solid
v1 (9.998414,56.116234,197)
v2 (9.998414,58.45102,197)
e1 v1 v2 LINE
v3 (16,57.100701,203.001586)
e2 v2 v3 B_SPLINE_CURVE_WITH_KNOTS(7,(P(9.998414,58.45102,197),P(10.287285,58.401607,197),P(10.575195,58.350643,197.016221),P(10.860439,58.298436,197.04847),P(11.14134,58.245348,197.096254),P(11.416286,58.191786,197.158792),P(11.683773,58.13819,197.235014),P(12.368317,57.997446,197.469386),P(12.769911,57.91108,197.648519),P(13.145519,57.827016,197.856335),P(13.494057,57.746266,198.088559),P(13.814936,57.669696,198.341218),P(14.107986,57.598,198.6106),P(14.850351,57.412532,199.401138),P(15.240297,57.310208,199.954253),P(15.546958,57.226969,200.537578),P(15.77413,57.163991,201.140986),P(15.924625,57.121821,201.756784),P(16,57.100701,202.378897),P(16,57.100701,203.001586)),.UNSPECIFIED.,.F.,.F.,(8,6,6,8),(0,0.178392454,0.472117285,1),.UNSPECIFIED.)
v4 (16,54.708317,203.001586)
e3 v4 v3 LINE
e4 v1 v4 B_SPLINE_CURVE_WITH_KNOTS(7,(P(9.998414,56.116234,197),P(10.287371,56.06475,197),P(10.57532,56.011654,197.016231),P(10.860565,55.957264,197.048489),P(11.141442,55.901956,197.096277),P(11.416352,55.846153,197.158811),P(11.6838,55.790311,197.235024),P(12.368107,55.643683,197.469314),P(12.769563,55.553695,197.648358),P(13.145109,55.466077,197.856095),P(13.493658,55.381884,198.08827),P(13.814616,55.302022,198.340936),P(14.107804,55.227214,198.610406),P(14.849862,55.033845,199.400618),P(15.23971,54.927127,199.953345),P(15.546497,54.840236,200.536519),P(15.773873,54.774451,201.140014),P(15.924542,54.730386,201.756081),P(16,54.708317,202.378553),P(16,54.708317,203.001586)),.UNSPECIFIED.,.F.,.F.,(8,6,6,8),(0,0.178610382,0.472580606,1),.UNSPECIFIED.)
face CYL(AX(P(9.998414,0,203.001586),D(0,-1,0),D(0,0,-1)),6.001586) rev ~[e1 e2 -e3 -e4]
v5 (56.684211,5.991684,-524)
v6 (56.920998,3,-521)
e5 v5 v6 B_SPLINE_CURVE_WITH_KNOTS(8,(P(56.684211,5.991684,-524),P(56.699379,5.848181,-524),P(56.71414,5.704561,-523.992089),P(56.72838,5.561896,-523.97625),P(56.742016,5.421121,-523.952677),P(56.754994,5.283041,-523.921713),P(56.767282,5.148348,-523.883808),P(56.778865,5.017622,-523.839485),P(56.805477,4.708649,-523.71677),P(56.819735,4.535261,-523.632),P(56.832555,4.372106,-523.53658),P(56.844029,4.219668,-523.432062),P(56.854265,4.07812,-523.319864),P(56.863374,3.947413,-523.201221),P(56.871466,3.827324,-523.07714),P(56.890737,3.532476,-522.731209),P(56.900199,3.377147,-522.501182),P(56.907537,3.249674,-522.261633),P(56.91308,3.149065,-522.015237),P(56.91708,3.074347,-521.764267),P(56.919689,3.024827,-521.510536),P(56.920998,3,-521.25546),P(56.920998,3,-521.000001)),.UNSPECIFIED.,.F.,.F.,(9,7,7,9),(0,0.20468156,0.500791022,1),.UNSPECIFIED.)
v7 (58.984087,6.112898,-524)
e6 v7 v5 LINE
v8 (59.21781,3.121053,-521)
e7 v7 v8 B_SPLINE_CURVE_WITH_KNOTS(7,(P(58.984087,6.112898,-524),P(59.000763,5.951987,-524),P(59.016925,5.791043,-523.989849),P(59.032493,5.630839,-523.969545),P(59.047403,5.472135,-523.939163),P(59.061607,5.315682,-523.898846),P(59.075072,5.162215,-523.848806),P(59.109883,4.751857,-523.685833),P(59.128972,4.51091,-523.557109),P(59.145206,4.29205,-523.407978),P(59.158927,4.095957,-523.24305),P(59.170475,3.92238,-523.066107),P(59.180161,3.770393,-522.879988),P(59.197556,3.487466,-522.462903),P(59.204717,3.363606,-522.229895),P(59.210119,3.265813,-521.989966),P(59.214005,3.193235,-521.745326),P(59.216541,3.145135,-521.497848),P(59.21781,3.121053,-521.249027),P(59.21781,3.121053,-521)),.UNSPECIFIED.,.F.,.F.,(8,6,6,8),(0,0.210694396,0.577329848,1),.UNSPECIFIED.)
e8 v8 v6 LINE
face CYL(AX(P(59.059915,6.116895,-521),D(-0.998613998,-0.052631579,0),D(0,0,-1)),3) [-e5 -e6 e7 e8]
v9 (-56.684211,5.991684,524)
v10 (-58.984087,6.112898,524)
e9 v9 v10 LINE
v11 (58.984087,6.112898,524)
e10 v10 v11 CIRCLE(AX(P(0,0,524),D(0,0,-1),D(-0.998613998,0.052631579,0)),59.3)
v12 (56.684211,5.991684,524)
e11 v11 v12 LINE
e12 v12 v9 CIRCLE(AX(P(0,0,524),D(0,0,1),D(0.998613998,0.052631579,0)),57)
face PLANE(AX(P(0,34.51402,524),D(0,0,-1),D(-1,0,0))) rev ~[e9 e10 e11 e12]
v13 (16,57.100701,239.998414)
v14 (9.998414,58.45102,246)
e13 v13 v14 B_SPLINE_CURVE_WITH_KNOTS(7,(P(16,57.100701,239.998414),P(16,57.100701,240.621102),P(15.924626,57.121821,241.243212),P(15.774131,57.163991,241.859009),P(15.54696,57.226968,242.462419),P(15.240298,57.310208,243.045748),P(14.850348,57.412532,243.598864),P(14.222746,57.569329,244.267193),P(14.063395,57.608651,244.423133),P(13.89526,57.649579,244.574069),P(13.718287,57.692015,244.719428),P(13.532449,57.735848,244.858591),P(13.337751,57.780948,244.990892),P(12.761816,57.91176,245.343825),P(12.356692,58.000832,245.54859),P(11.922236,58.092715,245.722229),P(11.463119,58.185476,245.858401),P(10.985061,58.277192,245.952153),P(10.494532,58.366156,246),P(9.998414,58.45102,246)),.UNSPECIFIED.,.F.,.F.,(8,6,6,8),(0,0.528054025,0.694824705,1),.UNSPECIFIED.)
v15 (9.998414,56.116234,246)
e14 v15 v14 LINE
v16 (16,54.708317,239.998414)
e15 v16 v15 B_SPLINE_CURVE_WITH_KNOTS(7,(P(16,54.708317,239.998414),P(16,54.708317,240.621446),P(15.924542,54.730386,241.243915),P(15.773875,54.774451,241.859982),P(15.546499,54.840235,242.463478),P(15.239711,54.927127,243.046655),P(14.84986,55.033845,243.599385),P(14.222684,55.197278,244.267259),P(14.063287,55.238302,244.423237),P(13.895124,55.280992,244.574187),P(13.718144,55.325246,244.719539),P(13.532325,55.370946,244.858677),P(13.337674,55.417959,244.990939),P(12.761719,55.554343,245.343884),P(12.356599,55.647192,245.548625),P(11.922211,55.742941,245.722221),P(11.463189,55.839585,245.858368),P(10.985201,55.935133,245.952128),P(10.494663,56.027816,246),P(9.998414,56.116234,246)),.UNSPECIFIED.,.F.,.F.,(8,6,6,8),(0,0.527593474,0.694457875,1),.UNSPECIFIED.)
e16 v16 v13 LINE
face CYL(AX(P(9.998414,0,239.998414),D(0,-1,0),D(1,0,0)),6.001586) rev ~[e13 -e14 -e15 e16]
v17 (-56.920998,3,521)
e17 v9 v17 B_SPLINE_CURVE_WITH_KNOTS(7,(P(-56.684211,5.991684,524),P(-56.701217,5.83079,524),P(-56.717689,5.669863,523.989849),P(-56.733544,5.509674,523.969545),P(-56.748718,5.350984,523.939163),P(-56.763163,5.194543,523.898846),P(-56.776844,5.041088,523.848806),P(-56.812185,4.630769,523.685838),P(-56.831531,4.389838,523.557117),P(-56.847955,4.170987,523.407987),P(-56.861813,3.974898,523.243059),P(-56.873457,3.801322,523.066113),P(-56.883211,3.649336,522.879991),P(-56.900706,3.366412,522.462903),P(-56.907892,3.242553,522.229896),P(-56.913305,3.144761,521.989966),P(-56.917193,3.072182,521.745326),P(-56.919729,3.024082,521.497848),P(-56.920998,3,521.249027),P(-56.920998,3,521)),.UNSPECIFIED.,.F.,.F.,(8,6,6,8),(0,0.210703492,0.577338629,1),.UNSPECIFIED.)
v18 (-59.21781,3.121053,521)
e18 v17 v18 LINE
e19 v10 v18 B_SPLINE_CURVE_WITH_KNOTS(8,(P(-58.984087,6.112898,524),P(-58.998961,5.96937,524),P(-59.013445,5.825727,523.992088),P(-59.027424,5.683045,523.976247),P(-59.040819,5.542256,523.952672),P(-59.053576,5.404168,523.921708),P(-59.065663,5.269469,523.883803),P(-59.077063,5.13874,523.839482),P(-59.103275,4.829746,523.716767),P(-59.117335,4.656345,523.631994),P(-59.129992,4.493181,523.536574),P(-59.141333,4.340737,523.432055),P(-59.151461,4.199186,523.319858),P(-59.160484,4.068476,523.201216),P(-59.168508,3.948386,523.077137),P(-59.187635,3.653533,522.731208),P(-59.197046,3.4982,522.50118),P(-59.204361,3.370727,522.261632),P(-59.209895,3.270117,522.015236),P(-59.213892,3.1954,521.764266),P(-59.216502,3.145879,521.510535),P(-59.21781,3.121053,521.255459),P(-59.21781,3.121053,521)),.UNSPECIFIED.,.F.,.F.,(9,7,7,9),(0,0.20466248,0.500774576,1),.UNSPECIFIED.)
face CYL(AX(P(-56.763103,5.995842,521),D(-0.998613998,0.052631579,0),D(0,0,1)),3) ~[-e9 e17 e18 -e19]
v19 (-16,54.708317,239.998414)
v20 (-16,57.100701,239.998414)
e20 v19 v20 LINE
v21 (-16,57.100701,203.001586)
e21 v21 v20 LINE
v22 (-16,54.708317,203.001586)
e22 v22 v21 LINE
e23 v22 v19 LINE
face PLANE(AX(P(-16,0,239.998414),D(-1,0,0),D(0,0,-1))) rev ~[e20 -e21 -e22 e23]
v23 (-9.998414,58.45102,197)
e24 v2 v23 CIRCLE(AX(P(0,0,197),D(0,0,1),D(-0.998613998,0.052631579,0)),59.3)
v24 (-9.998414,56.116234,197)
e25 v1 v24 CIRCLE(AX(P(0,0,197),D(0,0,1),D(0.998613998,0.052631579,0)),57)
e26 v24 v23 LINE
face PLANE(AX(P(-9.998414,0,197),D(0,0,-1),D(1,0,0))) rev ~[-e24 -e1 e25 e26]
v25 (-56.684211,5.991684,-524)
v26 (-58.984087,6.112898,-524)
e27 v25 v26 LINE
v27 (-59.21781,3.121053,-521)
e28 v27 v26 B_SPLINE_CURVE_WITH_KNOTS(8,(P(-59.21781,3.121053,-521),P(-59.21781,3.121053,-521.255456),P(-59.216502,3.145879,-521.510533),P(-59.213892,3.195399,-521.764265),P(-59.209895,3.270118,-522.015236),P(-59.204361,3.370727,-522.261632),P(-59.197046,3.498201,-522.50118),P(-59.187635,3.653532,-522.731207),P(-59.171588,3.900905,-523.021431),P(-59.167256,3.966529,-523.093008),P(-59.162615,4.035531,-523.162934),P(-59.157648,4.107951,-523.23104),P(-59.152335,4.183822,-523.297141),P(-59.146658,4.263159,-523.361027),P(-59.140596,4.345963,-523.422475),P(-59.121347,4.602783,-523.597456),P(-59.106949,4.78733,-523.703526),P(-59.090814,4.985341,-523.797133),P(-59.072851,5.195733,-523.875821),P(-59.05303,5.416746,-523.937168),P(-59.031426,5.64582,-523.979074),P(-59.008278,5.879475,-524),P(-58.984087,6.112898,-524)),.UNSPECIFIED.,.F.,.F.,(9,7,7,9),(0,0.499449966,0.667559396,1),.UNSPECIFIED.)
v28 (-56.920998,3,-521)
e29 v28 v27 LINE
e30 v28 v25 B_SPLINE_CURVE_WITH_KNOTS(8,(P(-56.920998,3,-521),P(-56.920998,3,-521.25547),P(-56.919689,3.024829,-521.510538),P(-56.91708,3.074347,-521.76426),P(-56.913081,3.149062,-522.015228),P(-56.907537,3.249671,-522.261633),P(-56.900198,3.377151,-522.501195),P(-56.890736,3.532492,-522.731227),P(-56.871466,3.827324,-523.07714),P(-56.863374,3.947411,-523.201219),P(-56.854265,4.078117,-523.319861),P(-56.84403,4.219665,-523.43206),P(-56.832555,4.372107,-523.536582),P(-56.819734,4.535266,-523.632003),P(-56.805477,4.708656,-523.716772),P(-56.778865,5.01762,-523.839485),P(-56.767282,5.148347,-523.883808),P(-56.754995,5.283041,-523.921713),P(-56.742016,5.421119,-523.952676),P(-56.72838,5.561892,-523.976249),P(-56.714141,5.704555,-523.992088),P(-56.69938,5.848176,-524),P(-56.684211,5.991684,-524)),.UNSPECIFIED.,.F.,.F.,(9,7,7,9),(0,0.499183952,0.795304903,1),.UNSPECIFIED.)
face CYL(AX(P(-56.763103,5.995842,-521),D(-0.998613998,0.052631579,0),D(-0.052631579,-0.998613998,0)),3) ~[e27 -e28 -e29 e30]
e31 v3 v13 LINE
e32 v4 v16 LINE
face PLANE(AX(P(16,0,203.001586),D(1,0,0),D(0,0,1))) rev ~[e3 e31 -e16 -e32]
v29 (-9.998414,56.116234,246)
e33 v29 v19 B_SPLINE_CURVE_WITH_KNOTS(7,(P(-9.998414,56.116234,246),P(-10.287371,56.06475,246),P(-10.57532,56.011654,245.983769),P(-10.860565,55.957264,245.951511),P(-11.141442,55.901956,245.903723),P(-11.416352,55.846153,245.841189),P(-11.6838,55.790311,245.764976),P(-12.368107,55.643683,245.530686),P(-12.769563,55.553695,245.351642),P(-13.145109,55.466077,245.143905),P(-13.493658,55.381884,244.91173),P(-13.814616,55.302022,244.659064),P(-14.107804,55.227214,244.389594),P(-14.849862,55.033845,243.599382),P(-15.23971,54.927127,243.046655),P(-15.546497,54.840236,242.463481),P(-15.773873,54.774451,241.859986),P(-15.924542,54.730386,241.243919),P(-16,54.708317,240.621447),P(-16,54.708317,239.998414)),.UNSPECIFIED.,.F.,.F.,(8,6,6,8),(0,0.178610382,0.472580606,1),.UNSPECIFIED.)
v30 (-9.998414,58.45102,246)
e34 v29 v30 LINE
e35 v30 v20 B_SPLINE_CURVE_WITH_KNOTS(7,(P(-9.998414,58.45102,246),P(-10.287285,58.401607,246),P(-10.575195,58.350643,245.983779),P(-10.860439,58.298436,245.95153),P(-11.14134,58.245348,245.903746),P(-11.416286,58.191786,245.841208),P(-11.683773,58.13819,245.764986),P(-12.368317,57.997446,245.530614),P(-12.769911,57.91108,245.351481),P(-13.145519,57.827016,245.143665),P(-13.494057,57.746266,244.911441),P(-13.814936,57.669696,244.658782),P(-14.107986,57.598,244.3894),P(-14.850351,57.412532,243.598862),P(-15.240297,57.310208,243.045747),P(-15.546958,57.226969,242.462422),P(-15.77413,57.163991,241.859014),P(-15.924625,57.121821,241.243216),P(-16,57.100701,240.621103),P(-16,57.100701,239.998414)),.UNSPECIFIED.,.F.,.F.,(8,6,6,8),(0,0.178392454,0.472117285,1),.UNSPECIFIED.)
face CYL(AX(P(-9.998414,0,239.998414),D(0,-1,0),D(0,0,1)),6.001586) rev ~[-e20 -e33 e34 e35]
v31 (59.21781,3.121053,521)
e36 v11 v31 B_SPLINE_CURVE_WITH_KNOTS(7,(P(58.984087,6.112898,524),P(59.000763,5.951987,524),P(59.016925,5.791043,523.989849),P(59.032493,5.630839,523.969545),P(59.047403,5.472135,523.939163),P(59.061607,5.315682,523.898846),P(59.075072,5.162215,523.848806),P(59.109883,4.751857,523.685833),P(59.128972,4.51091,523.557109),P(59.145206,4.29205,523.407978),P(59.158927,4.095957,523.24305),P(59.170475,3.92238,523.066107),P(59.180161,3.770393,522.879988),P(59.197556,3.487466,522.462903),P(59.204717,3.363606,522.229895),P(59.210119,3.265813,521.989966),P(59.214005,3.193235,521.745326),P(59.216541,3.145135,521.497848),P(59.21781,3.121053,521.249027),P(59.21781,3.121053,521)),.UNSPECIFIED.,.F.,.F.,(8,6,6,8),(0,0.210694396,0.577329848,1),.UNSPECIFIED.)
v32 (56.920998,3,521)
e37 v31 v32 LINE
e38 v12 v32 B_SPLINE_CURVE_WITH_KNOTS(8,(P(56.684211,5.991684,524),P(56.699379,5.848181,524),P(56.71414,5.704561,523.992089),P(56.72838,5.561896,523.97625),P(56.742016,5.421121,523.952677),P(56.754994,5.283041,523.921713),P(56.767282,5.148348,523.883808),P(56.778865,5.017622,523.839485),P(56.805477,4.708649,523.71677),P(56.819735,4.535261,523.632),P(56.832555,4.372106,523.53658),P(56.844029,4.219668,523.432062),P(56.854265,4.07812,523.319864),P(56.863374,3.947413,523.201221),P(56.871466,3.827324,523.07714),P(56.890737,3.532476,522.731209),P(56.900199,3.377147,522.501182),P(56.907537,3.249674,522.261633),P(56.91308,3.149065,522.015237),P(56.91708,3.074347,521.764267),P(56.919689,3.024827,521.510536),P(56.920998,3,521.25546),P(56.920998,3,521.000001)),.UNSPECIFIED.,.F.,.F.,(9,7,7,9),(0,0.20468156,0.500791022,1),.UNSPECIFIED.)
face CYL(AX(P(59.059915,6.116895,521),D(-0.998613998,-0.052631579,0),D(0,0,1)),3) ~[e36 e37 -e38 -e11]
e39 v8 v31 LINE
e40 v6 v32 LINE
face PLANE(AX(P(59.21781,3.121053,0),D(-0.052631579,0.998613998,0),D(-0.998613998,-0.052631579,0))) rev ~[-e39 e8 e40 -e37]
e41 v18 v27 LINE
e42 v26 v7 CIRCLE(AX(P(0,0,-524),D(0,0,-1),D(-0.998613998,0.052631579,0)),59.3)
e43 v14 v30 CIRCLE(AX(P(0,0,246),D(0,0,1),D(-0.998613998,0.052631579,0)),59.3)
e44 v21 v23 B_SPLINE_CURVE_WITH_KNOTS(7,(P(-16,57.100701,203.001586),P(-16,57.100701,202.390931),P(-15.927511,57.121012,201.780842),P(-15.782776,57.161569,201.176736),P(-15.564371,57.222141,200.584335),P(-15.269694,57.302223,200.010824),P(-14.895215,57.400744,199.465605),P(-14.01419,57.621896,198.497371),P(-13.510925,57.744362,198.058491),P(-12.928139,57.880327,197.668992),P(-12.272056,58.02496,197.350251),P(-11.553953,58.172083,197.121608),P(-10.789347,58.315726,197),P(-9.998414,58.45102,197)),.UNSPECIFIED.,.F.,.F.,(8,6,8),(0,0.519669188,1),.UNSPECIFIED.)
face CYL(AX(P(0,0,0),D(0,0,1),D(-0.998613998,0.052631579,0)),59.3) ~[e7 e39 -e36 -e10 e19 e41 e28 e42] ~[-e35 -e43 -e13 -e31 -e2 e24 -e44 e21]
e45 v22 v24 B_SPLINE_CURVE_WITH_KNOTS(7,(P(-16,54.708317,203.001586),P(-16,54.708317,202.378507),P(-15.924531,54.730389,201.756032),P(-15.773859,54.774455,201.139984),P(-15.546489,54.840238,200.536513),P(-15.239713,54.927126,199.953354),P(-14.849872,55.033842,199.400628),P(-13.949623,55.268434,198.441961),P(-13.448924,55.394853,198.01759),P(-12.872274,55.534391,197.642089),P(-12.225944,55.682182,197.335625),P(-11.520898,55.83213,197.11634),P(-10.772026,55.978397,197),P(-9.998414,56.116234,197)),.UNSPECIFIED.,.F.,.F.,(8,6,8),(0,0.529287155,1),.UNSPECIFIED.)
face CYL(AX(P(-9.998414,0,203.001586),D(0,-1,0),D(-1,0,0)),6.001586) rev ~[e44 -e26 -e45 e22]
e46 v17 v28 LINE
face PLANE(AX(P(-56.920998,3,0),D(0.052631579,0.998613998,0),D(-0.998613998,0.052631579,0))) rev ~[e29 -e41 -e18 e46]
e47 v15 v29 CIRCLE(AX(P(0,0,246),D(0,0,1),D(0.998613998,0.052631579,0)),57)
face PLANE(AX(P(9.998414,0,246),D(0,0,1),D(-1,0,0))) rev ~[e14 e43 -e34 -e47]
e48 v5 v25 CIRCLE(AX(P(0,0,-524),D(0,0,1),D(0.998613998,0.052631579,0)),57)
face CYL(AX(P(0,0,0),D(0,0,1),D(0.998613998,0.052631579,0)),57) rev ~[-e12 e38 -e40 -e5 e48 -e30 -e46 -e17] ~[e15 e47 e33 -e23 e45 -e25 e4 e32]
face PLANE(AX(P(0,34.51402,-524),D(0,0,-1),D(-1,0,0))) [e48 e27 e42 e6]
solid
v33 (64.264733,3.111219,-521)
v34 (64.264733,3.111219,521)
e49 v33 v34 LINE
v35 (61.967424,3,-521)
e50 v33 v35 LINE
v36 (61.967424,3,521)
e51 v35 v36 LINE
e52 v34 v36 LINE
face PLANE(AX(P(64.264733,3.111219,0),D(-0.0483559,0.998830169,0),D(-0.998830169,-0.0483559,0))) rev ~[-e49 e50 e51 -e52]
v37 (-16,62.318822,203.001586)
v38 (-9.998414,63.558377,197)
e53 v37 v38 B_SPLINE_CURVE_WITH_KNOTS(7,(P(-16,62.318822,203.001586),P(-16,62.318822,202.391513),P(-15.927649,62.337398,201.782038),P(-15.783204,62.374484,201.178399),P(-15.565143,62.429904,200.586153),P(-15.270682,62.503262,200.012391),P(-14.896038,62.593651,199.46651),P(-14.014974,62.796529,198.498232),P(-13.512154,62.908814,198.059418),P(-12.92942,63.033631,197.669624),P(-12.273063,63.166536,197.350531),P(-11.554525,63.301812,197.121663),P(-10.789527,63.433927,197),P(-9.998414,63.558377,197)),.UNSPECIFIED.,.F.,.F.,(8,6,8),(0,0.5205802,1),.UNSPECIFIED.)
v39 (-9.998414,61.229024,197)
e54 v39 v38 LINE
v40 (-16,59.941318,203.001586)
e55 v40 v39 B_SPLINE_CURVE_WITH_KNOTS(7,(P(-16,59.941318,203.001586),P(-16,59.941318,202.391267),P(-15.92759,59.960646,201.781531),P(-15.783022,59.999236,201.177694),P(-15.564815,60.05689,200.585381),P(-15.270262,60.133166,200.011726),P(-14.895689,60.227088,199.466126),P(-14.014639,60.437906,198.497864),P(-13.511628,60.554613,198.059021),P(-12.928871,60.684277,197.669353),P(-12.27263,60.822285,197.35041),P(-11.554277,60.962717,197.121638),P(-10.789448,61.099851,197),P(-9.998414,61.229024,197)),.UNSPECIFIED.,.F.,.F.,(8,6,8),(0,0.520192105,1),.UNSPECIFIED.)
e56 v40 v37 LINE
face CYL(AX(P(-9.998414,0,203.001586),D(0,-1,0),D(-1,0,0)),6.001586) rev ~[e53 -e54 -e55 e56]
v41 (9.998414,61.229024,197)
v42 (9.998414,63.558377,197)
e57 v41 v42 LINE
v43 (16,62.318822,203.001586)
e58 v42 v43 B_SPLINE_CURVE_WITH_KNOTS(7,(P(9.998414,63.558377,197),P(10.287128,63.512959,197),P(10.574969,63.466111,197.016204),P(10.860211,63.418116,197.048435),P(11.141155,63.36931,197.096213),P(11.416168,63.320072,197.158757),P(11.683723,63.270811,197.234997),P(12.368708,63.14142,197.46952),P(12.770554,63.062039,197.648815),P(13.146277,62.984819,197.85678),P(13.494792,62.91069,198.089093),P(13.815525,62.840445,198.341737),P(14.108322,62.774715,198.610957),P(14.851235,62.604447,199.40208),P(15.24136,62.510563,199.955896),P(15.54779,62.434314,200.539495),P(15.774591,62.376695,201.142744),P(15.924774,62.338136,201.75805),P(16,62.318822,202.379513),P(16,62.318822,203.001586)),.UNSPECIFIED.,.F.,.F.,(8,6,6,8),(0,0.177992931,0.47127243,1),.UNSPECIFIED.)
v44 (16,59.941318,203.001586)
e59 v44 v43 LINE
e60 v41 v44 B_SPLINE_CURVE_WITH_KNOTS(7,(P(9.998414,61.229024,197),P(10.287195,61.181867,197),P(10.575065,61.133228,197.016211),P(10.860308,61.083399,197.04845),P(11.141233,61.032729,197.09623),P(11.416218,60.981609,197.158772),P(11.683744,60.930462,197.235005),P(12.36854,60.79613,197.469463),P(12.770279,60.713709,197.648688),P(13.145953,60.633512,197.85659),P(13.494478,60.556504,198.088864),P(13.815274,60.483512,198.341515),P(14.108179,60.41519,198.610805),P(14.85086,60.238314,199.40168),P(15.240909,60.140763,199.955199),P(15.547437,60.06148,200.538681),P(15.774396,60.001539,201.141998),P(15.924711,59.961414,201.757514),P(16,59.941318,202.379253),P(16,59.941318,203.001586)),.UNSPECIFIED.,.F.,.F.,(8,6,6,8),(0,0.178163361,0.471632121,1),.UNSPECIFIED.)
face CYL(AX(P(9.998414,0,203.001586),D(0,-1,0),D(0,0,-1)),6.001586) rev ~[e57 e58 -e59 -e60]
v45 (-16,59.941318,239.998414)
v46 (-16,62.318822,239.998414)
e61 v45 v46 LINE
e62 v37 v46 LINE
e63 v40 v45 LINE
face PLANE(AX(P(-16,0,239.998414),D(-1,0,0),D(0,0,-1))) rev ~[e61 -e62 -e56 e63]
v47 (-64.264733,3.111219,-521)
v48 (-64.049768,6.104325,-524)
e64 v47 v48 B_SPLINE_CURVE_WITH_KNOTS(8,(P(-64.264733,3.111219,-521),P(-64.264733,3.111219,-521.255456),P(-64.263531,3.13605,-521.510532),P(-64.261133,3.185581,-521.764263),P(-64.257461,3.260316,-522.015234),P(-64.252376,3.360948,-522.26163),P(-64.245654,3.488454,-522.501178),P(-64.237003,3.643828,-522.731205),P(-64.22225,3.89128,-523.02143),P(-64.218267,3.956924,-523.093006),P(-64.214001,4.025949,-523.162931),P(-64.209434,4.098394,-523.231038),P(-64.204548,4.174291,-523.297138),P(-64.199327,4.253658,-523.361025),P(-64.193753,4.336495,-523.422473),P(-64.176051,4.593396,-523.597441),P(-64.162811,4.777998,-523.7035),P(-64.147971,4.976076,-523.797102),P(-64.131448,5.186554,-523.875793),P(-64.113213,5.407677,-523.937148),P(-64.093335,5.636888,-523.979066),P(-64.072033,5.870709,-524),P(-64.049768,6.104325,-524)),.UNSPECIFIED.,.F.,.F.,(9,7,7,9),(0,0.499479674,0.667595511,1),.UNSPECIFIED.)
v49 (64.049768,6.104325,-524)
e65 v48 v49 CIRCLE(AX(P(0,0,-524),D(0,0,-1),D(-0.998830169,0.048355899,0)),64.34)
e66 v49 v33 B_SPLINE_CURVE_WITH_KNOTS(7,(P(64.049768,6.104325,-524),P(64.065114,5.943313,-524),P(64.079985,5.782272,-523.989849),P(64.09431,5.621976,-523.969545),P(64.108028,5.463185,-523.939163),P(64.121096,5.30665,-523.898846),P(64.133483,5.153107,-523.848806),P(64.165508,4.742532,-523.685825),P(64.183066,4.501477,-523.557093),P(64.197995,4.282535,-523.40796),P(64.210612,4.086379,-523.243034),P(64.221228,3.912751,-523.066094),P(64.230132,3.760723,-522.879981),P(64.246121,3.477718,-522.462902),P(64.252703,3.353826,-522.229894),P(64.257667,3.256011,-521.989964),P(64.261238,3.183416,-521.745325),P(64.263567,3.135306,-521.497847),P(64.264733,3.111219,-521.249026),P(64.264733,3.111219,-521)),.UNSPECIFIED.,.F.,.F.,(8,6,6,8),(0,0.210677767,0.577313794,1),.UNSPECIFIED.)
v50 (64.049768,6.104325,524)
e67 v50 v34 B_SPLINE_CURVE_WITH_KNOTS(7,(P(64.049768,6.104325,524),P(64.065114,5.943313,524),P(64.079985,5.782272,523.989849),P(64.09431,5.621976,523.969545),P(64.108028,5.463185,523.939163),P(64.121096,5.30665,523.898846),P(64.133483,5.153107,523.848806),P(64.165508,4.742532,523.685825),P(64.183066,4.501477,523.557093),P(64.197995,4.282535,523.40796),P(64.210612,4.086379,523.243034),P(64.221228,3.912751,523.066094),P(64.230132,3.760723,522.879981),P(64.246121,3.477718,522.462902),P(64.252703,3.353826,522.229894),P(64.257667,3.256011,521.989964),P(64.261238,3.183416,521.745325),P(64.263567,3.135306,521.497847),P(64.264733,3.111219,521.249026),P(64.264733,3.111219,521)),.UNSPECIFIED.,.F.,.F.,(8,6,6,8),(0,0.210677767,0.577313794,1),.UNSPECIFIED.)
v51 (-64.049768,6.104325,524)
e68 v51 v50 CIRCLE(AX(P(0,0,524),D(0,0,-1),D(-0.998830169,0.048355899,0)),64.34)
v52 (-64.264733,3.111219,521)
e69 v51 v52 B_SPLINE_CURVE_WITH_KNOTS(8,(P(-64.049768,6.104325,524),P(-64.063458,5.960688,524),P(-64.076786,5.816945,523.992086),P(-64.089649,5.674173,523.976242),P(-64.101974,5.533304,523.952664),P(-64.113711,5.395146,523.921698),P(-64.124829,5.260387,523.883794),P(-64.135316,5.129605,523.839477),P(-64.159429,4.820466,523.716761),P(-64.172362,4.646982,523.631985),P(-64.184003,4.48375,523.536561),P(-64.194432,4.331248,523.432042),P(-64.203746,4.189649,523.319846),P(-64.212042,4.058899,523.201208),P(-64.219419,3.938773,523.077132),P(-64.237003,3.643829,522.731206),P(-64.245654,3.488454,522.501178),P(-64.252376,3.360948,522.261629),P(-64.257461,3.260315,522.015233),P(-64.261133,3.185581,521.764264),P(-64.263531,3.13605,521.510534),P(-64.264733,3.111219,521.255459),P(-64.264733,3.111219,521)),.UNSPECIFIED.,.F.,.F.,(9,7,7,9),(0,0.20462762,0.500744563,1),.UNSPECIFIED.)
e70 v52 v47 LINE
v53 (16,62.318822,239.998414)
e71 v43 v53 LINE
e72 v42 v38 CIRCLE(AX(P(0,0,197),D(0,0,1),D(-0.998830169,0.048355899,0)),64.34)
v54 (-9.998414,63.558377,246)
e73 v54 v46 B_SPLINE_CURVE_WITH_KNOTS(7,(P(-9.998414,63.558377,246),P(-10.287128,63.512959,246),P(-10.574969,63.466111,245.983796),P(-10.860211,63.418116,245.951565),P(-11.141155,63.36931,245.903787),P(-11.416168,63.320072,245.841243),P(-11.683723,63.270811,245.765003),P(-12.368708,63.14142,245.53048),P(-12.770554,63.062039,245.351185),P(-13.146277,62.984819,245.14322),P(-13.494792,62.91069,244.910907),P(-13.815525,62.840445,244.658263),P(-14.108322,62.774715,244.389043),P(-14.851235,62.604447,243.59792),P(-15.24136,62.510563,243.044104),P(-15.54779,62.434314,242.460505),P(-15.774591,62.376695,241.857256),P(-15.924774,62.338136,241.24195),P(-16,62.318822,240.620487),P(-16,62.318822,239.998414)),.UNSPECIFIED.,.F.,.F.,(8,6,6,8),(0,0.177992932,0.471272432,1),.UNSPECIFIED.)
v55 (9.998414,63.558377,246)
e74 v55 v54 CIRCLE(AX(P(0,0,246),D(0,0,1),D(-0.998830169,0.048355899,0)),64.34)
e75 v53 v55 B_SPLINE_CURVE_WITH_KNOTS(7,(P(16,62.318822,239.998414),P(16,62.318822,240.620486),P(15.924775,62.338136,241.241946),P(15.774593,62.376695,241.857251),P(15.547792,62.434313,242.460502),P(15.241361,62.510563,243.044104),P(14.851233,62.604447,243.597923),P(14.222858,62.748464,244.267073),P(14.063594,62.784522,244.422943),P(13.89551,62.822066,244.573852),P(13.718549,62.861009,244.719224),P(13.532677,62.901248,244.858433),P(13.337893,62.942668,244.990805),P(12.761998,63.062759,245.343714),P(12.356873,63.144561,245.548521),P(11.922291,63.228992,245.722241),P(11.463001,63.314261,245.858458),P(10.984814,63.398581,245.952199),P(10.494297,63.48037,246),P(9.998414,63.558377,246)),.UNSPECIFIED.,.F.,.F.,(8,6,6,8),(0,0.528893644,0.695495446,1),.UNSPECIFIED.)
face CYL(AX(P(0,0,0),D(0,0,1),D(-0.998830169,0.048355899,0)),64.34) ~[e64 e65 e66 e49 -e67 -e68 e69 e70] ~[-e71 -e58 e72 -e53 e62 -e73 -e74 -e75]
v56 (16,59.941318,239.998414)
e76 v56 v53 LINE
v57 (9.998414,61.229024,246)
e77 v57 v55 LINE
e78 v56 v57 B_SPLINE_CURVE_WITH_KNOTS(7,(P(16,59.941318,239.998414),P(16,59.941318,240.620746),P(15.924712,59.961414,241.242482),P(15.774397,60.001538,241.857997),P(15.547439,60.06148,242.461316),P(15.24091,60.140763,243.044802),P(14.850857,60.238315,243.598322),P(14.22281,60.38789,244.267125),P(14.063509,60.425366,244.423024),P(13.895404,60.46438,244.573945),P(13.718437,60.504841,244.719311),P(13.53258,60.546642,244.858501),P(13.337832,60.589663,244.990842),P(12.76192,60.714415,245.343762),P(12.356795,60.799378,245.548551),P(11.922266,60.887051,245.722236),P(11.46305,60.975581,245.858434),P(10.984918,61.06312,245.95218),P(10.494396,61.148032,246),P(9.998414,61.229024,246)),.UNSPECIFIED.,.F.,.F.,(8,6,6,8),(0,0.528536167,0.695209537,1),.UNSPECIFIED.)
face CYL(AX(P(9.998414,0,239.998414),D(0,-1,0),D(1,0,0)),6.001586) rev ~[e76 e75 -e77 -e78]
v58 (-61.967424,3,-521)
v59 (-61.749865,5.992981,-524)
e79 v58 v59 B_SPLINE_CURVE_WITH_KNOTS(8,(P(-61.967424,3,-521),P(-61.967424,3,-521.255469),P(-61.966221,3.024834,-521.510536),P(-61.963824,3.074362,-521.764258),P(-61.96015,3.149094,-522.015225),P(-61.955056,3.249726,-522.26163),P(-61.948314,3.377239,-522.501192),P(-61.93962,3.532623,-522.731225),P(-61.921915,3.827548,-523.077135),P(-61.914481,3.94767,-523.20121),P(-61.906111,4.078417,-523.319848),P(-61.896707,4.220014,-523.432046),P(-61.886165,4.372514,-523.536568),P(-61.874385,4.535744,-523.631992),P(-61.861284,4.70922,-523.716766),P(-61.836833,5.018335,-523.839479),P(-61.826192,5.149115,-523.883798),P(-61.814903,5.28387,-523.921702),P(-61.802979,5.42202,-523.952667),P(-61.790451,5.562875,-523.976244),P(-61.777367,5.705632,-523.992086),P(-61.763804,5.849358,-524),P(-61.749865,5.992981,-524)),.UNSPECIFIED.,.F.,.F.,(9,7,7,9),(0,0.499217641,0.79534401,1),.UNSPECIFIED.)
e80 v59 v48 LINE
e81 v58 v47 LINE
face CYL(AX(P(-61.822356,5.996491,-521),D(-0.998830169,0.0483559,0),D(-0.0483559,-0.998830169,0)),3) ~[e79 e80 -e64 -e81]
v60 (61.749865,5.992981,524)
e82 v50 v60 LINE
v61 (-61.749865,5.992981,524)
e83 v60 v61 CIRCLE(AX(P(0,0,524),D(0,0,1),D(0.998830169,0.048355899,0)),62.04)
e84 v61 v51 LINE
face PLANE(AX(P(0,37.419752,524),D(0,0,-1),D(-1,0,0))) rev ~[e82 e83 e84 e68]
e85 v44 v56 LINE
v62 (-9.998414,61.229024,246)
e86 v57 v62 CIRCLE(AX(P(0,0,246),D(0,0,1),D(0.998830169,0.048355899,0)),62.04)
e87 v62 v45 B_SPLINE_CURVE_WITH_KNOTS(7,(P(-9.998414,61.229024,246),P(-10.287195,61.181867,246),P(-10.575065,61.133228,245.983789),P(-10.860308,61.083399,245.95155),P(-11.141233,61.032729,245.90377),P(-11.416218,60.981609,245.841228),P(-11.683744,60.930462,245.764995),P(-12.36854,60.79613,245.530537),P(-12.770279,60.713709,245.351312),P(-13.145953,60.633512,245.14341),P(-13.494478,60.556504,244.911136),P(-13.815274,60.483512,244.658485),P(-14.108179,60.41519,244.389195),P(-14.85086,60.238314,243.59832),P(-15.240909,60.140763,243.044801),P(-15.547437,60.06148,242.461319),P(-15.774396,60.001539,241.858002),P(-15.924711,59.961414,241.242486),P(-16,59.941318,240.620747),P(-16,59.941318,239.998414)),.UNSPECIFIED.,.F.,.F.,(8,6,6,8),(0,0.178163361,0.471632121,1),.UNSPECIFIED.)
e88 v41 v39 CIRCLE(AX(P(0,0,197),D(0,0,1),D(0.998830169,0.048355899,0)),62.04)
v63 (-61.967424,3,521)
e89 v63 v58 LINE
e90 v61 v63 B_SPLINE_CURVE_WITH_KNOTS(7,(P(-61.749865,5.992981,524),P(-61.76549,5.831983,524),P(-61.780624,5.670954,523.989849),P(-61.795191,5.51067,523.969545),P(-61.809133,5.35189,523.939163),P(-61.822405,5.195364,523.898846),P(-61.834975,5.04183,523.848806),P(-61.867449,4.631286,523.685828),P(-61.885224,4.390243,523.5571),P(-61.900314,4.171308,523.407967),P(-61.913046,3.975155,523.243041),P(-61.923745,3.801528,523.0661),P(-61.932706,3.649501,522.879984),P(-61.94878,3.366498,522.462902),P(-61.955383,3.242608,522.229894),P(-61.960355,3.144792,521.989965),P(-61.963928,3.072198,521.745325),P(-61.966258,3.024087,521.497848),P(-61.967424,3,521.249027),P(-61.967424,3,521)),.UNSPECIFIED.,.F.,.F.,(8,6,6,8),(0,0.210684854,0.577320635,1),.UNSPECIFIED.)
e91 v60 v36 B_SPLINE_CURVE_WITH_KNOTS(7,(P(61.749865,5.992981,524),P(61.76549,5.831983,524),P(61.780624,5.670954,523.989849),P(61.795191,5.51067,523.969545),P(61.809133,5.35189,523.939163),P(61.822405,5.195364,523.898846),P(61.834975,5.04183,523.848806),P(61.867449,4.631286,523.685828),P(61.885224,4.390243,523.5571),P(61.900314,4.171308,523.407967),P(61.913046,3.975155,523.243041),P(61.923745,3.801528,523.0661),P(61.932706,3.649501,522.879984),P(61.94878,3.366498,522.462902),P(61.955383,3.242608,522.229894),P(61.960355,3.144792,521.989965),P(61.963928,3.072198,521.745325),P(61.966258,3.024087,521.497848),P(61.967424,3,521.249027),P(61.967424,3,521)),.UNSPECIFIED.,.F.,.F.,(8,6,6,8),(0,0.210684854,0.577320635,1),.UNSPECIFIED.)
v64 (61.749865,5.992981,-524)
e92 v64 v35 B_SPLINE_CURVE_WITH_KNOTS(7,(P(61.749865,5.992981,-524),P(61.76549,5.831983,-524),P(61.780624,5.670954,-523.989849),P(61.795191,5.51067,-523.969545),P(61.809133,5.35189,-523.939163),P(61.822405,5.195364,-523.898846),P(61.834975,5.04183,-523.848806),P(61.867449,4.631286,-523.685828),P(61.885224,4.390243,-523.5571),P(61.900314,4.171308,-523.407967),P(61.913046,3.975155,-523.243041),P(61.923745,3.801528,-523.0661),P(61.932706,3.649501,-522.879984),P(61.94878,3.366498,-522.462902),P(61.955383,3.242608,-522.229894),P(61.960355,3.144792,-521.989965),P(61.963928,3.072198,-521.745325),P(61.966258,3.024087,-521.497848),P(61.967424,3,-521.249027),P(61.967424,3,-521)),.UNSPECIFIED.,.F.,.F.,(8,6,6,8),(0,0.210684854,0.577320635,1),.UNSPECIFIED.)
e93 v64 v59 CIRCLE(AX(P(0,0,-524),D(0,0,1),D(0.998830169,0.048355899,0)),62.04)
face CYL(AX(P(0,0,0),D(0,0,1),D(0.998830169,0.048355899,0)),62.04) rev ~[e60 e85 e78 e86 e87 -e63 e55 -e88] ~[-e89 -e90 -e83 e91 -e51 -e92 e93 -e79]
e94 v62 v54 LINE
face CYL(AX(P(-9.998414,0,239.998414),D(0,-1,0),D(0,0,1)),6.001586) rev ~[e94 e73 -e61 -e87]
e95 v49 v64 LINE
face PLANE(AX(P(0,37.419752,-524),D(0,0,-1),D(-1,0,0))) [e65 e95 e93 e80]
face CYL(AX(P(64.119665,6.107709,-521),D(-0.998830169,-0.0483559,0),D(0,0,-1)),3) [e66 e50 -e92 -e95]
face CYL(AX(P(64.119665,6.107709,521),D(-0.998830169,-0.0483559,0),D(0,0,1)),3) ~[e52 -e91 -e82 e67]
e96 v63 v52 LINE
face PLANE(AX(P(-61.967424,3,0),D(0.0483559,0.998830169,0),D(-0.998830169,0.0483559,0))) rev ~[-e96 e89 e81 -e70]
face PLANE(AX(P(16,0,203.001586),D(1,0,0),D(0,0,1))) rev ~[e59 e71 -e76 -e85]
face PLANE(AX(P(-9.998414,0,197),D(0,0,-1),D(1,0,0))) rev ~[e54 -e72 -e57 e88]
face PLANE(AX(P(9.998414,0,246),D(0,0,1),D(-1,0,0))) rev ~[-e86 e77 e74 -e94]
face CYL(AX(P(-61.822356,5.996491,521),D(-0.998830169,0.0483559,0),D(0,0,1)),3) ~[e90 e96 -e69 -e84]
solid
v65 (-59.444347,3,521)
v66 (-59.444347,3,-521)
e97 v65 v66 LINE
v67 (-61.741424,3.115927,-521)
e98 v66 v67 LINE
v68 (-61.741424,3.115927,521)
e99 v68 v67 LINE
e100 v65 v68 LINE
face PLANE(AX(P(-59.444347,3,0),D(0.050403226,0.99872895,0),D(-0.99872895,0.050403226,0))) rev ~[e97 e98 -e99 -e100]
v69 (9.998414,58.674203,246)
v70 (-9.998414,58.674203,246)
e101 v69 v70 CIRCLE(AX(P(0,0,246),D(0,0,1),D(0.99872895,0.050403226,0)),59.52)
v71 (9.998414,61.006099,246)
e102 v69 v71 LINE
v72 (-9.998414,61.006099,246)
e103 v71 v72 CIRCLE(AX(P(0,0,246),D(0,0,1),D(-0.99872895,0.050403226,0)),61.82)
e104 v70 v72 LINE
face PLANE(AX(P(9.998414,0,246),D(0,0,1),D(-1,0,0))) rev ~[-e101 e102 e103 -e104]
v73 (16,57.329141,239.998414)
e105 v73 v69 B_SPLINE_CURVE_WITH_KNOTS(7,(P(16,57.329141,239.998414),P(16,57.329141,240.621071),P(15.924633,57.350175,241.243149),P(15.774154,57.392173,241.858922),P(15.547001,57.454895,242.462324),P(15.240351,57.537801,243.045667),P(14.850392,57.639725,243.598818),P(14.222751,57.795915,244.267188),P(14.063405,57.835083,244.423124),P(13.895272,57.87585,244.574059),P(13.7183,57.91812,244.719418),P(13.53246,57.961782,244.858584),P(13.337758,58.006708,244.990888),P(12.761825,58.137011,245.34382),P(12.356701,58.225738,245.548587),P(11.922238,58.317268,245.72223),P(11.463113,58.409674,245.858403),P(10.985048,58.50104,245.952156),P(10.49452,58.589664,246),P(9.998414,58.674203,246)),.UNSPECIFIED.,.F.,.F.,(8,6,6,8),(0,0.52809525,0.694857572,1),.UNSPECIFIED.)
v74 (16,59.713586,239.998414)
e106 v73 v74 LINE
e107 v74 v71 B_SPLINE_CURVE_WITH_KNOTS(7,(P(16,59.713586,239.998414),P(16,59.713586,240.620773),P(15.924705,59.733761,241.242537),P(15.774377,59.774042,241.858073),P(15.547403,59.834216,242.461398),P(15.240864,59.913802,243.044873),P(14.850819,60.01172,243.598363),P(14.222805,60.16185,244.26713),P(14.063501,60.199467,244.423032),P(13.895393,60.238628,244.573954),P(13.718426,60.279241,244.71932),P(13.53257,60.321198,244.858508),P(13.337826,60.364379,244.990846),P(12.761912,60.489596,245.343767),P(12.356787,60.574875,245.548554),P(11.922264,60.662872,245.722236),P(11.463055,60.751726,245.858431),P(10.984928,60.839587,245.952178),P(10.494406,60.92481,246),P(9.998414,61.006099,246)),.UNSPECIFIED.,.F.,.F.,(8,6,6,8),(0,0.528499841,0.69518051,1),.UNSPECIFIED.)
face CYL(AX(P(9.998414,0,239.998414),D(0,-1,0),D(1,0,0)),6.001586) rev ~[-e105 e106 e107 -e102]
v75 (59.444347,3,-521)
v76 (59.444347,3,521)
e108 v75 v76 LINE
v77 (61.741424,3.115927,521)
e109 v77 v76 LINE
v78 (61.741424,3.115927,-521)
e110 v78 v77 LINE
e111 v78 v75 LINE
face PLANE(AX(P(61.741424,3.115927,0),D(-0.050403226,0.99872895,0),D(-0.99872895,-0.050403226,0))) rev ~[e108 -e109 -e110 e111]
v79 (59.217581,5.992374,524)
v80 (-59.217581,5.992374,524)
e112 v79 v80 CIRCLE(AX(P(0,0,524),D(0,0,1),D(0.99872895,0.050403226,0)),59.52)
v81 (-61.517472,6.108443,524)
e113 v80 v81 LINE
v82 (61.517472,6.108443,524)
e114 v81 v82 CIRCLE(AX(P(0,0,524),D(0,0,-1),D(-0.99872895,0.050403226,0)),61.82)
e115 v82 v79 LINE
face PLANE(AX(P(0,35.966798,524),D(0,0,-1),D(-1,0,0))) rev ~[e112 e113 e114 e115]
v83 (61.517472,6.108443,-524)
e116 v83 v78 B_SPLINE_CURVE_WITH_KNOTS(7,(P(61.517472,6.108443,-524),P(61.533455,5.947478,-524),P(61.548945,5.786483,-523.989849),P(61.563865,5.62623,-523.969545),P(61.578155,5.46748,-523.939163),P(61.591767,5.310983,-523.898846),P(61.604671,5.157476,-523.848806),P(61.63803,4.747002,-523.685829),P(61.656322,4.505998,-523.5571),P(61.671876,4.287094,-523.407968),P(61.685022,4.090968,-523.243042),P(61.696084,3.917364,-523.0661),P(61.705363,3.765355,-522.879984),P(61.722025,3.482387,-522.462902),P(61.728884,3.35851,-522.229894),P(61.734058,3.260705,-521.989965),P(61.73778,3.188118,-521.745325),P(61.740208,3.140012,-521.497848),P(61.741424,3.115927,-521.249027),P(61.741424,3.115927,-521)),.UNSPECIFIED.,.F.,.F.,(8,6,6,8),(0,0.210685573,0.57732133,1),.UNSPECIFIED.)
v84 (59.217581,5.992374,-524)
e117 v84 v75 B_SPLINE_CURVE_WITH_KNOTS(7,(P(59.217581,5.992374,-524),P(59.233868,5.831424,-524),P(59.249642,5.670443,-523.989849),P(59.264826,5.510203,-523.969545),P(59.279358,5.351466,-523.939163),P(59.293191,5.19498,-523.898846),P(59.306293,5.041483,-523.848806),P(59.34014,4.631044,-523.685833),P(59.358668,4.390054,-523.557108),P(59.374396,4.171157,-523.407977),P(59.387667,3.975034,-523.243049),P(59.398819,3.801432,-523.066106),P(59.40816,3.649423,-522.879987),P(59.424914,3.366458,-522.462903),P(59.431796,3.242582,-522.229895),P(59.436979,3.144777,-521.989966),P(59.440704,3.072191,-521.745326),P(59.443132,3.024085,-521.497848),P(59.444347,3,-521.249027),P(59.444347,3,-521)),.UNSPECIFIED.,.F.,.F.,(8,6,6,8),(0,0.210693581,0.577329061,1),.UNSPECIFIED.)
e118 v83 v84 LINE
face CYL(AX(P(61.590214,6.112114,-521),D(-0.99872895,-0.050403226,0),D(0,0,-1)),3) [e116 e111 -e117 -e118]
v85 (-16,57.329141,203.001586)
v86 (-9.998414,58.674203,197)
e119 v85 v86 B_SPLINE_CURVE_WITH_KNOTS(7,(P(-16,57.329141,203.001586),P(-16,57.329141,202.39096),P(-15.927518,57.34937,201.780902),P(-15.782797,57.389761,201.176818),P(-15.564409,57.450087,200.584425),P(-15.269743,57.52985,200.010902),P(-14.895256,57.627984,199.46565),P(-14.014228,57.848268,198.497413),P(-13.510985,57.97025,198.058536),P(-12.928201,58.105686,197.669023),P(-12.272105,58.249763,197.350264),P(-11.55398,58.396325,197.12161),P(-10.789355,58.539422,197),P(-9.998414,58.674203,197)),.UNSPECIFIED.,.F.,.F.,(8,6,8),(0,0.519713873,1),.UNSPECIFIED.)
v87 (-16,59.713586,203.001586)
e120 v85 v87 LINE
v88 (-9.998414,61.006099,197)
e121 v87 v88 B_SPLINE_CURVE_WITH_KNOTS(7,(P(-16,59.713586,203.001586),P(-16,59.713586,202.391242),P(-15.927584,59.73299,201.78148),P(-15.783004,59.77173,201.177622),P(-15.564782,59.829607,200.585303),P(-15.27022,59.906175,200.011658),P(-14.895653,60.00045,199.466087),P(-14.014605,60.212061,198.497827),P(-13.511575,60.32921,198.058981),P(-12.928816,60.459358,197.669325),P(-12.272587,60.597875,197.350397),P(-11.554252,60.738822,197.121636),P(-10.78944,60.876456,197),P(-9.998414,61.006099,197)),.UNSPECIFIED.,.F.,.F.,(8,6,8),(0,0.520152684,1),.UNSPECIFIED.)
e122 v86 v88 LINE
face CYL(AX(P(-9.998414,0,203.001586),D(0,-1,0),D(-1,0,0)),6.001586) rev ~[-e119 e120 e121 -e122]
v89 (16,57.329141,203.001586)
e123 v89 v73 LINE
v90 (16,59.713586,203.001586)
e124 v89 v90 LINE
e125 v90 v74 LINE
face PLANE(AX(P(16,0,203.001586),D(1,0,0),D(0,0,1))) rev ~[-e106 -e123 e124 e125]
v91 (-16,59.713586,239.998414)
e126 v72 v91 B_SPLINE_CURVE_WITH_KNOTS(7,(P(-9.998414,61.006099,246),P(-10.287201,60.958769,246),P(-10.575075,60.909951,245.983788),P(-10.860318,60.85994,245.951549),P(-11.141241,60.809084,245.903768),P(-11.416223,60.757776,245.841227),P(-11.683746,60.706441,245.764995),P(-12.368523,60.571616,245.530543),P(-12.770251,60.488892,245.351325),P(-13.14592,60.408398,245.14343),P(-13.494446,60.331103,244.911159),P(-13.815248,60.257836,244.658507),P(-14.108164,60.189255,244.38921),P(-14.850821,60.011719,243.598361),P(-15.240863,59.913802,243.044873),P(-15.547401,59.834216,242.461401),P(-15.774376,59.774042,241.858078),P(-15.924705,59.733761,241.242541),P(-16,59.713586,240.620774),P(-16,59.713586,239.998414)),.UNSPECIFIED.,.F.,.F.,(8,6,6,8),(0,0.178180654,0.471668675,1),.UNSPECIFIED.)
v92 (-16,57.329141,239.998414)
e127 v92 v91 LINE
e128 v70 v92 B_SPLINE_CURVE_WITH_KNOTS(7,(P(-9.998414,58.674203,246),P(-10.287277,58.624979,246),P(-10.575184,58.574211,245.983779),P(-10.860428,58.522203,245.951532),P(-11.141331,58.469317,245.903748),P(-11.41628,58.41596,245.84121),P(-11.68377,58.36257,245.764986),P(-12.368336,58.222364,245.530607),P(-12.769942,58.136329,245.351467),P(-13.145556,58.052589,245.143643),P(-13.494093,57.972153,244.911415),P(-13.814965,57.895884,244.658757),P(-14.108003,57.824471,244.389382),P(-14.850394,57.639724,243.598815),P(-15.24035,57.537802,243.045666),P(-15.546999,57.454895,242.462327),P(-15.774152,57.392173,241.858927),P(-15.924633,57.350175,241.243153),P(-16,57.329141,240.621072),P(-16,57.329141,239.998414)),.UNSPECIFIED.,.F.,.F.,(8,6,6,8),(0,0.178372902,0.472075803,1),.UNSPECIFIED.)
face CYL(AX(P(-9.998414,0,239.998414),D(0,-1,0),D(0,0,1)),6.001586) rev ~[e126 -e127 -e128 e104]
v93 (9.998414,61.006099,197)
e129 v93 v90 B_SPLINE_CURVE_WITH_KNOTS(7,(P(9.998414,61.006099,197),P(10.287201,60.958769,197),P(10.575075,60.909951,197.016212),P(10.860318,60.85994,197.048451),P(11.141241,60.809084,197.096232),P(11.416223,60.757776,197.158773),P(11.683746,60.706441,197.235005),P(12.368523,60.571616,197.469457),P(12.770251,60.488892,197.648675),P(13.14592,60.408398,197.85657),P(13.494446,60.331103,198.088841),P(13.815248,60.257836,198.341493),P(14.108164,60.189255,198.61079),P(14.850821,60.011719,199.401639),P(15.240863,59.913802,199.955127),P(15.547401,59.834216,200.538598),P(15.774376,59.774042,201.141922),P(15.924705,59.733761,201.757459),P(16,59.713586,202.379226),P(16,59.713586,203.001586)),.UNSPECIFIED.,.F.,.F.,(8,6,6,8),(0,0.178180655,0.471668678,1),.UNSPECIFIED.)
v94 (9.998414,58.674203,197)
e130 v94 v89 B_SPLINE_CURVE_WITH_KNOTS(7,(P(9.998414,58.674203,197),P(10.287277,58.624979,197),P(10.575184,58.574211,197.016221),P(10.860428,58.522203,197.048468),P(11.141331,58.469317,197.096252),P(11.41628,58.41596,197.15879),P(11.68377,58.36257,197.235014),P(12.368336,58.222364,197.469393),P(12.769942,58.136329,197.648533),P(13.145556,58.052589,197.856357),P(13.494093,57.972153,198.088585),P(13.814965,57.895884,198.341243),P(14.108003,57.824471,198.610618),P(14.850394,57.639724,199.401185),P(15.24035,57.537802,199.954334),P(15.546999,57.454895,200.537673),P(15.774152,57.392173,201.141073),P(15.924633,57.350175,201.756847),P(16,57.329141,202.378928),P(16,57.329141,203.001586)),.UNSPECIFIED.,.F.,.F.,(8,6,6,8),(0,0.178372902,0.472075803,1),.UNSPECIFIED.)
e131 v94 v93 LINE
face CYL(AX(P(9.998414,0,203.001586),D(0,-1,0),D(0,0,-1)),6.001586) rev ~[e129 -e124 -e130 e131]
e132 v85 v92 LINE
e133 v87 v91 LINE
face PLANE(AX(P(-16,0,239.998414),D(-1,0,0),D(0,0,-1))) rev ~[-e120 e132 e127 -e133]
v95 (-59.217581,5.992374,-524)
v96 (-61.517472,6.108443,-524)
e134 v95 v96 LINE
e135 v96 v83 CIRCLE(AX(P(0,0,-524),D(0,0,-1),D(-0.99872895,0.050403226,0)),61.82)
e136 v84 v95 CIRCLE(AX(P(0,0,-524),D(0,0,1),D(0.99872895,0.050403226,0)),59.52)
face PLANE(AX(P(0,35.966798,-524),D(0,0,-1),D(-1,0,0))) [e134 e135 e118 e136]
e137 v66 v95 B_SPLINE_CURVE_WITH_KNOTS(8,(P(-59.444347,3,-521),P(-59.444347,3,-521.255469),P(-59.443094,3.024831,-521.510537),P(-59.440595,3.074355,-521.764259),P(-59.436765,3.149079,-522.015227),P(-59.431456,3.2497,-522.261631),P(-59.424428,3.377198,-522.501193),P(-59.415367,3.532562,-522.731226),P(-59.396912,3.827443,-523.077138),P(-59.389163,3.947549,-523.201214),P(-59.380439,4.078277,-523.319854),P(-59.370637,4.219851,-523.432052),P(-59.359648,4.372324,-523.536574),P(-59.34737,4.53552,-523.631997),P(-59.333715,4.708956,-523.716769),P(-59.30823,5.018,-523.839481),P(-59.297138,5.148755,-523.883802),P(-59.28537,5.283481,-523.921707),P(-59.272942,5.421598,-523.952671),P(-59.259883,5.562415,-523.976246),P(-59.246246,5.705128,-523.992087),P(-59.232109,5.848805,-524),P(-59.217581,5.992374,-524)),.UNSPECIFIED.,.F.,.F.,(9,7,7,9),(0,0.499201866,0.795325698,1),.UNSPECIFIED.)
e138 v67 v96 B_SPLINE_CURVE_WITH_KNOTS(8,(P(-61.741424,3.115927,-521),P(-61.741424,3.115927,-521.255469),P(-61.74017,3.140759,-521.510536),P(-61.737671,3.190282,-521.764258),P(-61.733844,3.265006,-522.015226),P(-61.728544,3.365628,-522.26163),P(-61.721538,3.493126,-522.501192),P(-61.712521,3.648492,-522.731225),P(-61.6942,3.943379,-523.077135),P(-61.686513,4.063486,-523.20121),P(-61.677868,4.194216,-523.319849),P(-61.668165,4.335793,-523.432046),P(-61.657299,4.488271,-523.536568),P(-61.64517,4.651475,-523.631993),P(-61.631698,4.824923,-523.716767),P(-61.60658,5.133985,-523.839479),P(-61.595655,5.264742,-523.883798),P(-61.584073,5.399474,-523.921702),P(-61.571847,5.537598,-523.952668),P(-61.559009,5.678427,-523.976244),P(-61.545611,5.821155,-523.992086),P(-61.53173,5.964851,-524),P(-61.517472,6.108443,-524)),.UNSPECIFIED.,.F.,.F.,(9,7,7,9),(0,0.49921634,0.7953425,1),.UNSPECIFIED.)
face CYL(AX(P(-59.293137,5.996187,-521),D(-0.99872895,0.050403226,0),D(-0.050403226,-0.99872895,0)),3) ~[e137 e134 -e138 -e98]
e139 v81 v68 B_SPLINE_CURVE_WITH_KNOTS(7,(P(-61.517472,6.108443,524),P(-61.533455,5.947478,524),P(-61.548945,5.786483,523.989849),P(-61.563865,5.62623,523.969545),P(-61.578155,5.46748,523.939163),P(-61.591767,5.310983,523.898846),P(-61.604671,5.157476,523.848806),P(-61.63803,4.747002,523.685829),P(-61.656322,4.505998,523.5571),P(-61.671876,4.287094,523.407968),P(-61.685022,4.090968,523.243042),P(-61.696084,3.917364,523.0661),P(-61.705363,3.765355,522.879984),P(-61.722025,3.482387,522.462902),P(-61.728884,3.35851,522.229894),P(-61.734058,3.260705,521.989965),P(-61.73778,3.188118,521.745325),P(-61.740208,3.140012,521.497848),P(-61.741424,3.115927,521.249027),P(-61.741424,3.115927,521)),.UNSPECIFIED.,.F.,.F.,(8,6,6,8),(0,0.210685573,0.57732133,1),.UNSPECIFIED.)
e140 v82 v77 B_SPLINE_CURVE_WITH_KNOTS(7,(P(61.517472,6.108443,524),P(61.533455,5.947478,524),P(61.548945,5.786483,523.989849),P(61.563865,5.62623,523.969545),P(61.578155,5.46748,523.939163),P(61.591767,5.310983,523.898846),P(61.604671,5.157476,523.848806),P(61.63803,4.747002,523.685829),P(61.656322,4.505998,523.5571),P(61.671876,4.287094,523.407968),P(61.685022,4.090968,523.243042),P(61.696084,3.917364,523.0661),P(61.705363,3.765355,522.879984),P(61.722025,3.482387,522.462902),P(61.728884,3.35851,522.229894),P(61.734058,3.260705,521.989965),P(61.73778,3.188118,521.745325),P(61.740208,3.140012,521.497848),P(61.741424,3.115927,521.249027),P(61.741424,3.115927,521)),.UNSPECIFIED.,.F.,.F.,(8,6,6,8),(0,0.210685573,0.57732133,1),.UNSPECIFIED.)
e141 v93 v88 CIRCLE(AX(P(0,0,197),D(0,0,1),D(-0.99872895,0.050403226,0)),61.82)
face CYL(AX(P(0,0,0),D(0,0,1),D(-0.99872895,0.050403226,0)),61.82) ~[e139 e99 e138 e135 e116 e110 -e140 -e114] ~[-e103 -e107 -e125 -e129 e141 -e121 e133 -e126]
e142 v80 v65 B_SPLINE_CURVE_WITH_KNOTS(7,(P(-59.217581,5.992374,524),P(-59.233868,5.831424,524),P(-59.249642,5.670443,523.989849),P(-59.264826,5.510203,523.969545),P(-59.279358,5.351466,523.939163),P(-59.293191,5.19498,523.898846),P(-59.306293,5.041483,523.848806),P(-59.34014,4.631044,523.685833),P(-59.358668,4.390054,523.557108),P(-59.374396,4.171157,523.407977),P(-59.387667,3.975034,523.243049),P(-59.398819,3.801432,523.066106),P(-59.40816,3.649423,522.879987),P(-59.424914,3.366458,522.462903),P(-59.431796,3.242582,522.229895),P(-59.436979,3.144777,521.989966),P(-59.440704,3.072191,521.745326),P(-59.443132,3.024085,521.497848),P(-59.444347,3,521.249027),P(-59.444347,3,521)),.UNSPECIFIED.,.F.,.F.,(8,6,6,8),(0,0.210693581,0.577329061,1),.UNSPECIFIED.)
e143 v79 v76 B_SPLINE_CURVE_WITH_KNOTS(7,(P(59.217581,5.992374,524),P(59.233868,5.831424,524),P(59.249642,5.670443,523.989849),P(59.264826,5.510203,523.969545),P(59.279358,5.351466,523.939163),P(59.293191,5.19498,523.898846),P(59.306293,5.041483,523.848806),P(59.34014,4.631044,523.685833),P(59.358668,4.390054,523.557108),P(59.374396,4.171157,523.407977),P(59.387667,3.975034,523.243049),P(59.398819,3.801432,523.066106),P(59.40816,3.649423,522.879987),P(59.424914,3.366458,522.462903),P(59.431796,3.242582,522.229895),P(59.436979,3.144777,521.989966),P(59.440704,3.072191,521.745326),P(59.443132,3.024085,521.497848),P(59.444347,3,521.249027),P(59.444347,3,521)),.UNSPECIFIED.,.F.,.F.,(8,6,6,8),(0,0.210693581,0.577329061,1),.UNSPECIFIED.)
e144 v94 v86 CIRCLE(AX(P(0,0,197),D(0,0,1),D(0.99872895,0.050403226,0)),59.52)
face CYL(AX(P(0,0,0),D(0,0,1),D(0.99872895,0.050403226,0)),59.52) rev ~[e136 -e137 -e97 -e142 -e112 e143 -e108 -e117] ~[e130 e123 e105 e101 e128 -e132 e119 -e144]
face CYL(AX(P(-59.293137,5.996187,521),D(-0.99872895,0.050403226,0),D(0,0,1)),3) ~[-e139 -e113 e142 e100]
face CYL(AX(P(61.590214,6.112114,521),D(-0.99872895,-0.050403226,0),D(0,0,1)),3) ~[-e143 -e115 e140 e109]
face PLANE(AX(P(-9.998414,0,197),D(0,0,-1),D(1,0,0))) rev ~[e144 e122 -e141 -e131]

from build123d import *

# Parameters (mm, degrees)
EXTRUDE_THIN1_DEPTH = 524
EXTRUDE_THIN2_DEPTH = 524
EXTRUDE_THIN3_DEPTH = 524
FILLET1_R           = 3
FILLET2_R           = 3
FILLET3_R           = 3
CUT_EXTRUDE1_DEPTH  = 65.3400001


with BuildPart() as part:
    # Sketch1 → Extrude-Thin1 (new body, symmetric)
    with BuildSketch(Plane.XY):
        with BuildLine():
            ThreePointArc((56.920997883, 3), (0, 57), (-56.920997883, 3))
            Line((-56.920997883, 3), (-59.217810078, 3.121052632))
            ThreePointArc((-59.217810078, 3.121052632), (0, 59.3), (59.217810078, 3.121052632))
            Line((59.217810078, 3.121052632), (56.920997883, 3))
        make_face()
    extrude(amount=EXTRUDE_THIN1_DEPTH, both=True)

    # Fillet3
    fillet3_edges = [part.edges().sort_by_distance(p)[0] for p in [
        (58.069403981, 3.060526316, 524),
        (58.069403981, 3.060526316, -524),
        (-58.069403981, 3.060526316, -524),
        (-58.069403981, 3.060526316, 524),
    ]]
    fillet(fillet3_edges, radius=FILLET3_R)


with BuildPart() as body_2:
    # Sketch2 → Extrude-Thin2 (new body, symmetric)
    with BuildSketch(Plane.XY):
        with BuildLine():
            ThreePointArc((59.444347082, 3), (0, 59.52), (-59.444347082, 3))
            Line((-59.444347082, 3), (-61.741423666, 3.115927419))
            ThreePointArc((-61.741423666, 3.115927419), (0, 61.82), (61.741423666, 3.115927419))
            Line((61.741423666, 3.115927419), (59.444347082, 3))
        make_face()
    extrude(amount=EXTRUDE_THIN2_DEPTH, both=True)

    # Fillet2
    fillet2_edges = [body_2.edges().sort_by_distance(p)[0] for p in [
        (60.592885374, 3.05796371, 524),
        (60.592885374, 3.05796371, -524),
        (-60.592885374, 3.05796371, -524),
        (-60.592885374, 3.05796371, 524),
    ]]
    fillet(fillet2_edges, radius=FILLET2_R)


with BuildPart() as body_3:
    # Sketch3 → Extrude-Thin3 (new body, symmetric)
    with BuildSketch(Plane.XY):
        with BuildLine():
            ThreePointArc((61.9674237, 3), (0, 62.04), (-61.9674237, 3))
            Line((-61.9674237, 3), (-64.264733089, 3.111218569))
            ThreePointArc((-64.264733089, 3.111218569), (0, 64.34), (64.264733089, 3.111218569))
            Line((64.264733089, 3.111218569), (61.9674237, 3))
        make_face()
    extrude(amount=EXTRUDE_THIN3_DEPTH, both=True)

    # Fillet1
    fillet1_edges = [body_3.edges().sort_by_distance(p)[0] for p in [
        (63.116078395, 3.055609284, 524),
        (63.116078395, 3.055609284, -524),
        (-63.116078395, 3.055609284, -524),
        (-63.116078395, 3.055609284, 524),
    ]]
    fillet(fillet1_edges, radius=FILLET1_R)


with BuildPart() as cut_extrude1_tool:
    # Sketch4 → Cut-Extrude1 (new body, through all)
    with BuildSketch(Plane(origin=(0, 0, 0), x_dir=(1, 0, 0), z_dir=(0, 1, 0))):
        with BuildLine():
            Line((9.998413649, -246), (-9.998413649, -246))
            ThreePointArc((-9.998413649, -246), (-14.242176056, -244.242176056), (-16, -239.998413649))
            Line((-16, -239.998413649), (-16, -203.001586351))
            ThreePointArc((-16, -203.001586351), (-14.242176056, -198.757823944), (-9.998413649, -197))
            Line((-9.998413649, -197), (9.998413649, -197))
            ThreePointArc((9.998413649, -197), (14.242176056, -198.757823944), (16, -203.001586351))
            Line((16, -203.001586351), (16, -239.998413649))
            ThreePointArc((16, -239.998413649), (14.242176056, -244.242176056), (9.998413649, -246))
        make_face()
    extrude(amount=CUT_EXTRUDE1_DEPTH)


with BuildPart() as part_1:
    add(part.part)

    # Cut-Extrude1: cut by cut_extrude1_tool
    add(cut_extrude1_tool.part, mode=Mode.SUBTRACT)


with BuildPart() as body_2_1:
    add(body_2.part)

    # Cut-Extrude1: cut by cut_extrude1_tool
    add(cut_extrude1_tool.part, mode=Mode.SUBTRACT)


with BuildPart() as body_3_1:
    add(body_3.part)

    # Cut-Extrude1: cut by cut_extrude1_tool
    add(cut_extrude1_tool.part, mode=Mode.SUBTRACT)


solid = Compound([part_1.part, body_2_1.part, body_3_1.part])
